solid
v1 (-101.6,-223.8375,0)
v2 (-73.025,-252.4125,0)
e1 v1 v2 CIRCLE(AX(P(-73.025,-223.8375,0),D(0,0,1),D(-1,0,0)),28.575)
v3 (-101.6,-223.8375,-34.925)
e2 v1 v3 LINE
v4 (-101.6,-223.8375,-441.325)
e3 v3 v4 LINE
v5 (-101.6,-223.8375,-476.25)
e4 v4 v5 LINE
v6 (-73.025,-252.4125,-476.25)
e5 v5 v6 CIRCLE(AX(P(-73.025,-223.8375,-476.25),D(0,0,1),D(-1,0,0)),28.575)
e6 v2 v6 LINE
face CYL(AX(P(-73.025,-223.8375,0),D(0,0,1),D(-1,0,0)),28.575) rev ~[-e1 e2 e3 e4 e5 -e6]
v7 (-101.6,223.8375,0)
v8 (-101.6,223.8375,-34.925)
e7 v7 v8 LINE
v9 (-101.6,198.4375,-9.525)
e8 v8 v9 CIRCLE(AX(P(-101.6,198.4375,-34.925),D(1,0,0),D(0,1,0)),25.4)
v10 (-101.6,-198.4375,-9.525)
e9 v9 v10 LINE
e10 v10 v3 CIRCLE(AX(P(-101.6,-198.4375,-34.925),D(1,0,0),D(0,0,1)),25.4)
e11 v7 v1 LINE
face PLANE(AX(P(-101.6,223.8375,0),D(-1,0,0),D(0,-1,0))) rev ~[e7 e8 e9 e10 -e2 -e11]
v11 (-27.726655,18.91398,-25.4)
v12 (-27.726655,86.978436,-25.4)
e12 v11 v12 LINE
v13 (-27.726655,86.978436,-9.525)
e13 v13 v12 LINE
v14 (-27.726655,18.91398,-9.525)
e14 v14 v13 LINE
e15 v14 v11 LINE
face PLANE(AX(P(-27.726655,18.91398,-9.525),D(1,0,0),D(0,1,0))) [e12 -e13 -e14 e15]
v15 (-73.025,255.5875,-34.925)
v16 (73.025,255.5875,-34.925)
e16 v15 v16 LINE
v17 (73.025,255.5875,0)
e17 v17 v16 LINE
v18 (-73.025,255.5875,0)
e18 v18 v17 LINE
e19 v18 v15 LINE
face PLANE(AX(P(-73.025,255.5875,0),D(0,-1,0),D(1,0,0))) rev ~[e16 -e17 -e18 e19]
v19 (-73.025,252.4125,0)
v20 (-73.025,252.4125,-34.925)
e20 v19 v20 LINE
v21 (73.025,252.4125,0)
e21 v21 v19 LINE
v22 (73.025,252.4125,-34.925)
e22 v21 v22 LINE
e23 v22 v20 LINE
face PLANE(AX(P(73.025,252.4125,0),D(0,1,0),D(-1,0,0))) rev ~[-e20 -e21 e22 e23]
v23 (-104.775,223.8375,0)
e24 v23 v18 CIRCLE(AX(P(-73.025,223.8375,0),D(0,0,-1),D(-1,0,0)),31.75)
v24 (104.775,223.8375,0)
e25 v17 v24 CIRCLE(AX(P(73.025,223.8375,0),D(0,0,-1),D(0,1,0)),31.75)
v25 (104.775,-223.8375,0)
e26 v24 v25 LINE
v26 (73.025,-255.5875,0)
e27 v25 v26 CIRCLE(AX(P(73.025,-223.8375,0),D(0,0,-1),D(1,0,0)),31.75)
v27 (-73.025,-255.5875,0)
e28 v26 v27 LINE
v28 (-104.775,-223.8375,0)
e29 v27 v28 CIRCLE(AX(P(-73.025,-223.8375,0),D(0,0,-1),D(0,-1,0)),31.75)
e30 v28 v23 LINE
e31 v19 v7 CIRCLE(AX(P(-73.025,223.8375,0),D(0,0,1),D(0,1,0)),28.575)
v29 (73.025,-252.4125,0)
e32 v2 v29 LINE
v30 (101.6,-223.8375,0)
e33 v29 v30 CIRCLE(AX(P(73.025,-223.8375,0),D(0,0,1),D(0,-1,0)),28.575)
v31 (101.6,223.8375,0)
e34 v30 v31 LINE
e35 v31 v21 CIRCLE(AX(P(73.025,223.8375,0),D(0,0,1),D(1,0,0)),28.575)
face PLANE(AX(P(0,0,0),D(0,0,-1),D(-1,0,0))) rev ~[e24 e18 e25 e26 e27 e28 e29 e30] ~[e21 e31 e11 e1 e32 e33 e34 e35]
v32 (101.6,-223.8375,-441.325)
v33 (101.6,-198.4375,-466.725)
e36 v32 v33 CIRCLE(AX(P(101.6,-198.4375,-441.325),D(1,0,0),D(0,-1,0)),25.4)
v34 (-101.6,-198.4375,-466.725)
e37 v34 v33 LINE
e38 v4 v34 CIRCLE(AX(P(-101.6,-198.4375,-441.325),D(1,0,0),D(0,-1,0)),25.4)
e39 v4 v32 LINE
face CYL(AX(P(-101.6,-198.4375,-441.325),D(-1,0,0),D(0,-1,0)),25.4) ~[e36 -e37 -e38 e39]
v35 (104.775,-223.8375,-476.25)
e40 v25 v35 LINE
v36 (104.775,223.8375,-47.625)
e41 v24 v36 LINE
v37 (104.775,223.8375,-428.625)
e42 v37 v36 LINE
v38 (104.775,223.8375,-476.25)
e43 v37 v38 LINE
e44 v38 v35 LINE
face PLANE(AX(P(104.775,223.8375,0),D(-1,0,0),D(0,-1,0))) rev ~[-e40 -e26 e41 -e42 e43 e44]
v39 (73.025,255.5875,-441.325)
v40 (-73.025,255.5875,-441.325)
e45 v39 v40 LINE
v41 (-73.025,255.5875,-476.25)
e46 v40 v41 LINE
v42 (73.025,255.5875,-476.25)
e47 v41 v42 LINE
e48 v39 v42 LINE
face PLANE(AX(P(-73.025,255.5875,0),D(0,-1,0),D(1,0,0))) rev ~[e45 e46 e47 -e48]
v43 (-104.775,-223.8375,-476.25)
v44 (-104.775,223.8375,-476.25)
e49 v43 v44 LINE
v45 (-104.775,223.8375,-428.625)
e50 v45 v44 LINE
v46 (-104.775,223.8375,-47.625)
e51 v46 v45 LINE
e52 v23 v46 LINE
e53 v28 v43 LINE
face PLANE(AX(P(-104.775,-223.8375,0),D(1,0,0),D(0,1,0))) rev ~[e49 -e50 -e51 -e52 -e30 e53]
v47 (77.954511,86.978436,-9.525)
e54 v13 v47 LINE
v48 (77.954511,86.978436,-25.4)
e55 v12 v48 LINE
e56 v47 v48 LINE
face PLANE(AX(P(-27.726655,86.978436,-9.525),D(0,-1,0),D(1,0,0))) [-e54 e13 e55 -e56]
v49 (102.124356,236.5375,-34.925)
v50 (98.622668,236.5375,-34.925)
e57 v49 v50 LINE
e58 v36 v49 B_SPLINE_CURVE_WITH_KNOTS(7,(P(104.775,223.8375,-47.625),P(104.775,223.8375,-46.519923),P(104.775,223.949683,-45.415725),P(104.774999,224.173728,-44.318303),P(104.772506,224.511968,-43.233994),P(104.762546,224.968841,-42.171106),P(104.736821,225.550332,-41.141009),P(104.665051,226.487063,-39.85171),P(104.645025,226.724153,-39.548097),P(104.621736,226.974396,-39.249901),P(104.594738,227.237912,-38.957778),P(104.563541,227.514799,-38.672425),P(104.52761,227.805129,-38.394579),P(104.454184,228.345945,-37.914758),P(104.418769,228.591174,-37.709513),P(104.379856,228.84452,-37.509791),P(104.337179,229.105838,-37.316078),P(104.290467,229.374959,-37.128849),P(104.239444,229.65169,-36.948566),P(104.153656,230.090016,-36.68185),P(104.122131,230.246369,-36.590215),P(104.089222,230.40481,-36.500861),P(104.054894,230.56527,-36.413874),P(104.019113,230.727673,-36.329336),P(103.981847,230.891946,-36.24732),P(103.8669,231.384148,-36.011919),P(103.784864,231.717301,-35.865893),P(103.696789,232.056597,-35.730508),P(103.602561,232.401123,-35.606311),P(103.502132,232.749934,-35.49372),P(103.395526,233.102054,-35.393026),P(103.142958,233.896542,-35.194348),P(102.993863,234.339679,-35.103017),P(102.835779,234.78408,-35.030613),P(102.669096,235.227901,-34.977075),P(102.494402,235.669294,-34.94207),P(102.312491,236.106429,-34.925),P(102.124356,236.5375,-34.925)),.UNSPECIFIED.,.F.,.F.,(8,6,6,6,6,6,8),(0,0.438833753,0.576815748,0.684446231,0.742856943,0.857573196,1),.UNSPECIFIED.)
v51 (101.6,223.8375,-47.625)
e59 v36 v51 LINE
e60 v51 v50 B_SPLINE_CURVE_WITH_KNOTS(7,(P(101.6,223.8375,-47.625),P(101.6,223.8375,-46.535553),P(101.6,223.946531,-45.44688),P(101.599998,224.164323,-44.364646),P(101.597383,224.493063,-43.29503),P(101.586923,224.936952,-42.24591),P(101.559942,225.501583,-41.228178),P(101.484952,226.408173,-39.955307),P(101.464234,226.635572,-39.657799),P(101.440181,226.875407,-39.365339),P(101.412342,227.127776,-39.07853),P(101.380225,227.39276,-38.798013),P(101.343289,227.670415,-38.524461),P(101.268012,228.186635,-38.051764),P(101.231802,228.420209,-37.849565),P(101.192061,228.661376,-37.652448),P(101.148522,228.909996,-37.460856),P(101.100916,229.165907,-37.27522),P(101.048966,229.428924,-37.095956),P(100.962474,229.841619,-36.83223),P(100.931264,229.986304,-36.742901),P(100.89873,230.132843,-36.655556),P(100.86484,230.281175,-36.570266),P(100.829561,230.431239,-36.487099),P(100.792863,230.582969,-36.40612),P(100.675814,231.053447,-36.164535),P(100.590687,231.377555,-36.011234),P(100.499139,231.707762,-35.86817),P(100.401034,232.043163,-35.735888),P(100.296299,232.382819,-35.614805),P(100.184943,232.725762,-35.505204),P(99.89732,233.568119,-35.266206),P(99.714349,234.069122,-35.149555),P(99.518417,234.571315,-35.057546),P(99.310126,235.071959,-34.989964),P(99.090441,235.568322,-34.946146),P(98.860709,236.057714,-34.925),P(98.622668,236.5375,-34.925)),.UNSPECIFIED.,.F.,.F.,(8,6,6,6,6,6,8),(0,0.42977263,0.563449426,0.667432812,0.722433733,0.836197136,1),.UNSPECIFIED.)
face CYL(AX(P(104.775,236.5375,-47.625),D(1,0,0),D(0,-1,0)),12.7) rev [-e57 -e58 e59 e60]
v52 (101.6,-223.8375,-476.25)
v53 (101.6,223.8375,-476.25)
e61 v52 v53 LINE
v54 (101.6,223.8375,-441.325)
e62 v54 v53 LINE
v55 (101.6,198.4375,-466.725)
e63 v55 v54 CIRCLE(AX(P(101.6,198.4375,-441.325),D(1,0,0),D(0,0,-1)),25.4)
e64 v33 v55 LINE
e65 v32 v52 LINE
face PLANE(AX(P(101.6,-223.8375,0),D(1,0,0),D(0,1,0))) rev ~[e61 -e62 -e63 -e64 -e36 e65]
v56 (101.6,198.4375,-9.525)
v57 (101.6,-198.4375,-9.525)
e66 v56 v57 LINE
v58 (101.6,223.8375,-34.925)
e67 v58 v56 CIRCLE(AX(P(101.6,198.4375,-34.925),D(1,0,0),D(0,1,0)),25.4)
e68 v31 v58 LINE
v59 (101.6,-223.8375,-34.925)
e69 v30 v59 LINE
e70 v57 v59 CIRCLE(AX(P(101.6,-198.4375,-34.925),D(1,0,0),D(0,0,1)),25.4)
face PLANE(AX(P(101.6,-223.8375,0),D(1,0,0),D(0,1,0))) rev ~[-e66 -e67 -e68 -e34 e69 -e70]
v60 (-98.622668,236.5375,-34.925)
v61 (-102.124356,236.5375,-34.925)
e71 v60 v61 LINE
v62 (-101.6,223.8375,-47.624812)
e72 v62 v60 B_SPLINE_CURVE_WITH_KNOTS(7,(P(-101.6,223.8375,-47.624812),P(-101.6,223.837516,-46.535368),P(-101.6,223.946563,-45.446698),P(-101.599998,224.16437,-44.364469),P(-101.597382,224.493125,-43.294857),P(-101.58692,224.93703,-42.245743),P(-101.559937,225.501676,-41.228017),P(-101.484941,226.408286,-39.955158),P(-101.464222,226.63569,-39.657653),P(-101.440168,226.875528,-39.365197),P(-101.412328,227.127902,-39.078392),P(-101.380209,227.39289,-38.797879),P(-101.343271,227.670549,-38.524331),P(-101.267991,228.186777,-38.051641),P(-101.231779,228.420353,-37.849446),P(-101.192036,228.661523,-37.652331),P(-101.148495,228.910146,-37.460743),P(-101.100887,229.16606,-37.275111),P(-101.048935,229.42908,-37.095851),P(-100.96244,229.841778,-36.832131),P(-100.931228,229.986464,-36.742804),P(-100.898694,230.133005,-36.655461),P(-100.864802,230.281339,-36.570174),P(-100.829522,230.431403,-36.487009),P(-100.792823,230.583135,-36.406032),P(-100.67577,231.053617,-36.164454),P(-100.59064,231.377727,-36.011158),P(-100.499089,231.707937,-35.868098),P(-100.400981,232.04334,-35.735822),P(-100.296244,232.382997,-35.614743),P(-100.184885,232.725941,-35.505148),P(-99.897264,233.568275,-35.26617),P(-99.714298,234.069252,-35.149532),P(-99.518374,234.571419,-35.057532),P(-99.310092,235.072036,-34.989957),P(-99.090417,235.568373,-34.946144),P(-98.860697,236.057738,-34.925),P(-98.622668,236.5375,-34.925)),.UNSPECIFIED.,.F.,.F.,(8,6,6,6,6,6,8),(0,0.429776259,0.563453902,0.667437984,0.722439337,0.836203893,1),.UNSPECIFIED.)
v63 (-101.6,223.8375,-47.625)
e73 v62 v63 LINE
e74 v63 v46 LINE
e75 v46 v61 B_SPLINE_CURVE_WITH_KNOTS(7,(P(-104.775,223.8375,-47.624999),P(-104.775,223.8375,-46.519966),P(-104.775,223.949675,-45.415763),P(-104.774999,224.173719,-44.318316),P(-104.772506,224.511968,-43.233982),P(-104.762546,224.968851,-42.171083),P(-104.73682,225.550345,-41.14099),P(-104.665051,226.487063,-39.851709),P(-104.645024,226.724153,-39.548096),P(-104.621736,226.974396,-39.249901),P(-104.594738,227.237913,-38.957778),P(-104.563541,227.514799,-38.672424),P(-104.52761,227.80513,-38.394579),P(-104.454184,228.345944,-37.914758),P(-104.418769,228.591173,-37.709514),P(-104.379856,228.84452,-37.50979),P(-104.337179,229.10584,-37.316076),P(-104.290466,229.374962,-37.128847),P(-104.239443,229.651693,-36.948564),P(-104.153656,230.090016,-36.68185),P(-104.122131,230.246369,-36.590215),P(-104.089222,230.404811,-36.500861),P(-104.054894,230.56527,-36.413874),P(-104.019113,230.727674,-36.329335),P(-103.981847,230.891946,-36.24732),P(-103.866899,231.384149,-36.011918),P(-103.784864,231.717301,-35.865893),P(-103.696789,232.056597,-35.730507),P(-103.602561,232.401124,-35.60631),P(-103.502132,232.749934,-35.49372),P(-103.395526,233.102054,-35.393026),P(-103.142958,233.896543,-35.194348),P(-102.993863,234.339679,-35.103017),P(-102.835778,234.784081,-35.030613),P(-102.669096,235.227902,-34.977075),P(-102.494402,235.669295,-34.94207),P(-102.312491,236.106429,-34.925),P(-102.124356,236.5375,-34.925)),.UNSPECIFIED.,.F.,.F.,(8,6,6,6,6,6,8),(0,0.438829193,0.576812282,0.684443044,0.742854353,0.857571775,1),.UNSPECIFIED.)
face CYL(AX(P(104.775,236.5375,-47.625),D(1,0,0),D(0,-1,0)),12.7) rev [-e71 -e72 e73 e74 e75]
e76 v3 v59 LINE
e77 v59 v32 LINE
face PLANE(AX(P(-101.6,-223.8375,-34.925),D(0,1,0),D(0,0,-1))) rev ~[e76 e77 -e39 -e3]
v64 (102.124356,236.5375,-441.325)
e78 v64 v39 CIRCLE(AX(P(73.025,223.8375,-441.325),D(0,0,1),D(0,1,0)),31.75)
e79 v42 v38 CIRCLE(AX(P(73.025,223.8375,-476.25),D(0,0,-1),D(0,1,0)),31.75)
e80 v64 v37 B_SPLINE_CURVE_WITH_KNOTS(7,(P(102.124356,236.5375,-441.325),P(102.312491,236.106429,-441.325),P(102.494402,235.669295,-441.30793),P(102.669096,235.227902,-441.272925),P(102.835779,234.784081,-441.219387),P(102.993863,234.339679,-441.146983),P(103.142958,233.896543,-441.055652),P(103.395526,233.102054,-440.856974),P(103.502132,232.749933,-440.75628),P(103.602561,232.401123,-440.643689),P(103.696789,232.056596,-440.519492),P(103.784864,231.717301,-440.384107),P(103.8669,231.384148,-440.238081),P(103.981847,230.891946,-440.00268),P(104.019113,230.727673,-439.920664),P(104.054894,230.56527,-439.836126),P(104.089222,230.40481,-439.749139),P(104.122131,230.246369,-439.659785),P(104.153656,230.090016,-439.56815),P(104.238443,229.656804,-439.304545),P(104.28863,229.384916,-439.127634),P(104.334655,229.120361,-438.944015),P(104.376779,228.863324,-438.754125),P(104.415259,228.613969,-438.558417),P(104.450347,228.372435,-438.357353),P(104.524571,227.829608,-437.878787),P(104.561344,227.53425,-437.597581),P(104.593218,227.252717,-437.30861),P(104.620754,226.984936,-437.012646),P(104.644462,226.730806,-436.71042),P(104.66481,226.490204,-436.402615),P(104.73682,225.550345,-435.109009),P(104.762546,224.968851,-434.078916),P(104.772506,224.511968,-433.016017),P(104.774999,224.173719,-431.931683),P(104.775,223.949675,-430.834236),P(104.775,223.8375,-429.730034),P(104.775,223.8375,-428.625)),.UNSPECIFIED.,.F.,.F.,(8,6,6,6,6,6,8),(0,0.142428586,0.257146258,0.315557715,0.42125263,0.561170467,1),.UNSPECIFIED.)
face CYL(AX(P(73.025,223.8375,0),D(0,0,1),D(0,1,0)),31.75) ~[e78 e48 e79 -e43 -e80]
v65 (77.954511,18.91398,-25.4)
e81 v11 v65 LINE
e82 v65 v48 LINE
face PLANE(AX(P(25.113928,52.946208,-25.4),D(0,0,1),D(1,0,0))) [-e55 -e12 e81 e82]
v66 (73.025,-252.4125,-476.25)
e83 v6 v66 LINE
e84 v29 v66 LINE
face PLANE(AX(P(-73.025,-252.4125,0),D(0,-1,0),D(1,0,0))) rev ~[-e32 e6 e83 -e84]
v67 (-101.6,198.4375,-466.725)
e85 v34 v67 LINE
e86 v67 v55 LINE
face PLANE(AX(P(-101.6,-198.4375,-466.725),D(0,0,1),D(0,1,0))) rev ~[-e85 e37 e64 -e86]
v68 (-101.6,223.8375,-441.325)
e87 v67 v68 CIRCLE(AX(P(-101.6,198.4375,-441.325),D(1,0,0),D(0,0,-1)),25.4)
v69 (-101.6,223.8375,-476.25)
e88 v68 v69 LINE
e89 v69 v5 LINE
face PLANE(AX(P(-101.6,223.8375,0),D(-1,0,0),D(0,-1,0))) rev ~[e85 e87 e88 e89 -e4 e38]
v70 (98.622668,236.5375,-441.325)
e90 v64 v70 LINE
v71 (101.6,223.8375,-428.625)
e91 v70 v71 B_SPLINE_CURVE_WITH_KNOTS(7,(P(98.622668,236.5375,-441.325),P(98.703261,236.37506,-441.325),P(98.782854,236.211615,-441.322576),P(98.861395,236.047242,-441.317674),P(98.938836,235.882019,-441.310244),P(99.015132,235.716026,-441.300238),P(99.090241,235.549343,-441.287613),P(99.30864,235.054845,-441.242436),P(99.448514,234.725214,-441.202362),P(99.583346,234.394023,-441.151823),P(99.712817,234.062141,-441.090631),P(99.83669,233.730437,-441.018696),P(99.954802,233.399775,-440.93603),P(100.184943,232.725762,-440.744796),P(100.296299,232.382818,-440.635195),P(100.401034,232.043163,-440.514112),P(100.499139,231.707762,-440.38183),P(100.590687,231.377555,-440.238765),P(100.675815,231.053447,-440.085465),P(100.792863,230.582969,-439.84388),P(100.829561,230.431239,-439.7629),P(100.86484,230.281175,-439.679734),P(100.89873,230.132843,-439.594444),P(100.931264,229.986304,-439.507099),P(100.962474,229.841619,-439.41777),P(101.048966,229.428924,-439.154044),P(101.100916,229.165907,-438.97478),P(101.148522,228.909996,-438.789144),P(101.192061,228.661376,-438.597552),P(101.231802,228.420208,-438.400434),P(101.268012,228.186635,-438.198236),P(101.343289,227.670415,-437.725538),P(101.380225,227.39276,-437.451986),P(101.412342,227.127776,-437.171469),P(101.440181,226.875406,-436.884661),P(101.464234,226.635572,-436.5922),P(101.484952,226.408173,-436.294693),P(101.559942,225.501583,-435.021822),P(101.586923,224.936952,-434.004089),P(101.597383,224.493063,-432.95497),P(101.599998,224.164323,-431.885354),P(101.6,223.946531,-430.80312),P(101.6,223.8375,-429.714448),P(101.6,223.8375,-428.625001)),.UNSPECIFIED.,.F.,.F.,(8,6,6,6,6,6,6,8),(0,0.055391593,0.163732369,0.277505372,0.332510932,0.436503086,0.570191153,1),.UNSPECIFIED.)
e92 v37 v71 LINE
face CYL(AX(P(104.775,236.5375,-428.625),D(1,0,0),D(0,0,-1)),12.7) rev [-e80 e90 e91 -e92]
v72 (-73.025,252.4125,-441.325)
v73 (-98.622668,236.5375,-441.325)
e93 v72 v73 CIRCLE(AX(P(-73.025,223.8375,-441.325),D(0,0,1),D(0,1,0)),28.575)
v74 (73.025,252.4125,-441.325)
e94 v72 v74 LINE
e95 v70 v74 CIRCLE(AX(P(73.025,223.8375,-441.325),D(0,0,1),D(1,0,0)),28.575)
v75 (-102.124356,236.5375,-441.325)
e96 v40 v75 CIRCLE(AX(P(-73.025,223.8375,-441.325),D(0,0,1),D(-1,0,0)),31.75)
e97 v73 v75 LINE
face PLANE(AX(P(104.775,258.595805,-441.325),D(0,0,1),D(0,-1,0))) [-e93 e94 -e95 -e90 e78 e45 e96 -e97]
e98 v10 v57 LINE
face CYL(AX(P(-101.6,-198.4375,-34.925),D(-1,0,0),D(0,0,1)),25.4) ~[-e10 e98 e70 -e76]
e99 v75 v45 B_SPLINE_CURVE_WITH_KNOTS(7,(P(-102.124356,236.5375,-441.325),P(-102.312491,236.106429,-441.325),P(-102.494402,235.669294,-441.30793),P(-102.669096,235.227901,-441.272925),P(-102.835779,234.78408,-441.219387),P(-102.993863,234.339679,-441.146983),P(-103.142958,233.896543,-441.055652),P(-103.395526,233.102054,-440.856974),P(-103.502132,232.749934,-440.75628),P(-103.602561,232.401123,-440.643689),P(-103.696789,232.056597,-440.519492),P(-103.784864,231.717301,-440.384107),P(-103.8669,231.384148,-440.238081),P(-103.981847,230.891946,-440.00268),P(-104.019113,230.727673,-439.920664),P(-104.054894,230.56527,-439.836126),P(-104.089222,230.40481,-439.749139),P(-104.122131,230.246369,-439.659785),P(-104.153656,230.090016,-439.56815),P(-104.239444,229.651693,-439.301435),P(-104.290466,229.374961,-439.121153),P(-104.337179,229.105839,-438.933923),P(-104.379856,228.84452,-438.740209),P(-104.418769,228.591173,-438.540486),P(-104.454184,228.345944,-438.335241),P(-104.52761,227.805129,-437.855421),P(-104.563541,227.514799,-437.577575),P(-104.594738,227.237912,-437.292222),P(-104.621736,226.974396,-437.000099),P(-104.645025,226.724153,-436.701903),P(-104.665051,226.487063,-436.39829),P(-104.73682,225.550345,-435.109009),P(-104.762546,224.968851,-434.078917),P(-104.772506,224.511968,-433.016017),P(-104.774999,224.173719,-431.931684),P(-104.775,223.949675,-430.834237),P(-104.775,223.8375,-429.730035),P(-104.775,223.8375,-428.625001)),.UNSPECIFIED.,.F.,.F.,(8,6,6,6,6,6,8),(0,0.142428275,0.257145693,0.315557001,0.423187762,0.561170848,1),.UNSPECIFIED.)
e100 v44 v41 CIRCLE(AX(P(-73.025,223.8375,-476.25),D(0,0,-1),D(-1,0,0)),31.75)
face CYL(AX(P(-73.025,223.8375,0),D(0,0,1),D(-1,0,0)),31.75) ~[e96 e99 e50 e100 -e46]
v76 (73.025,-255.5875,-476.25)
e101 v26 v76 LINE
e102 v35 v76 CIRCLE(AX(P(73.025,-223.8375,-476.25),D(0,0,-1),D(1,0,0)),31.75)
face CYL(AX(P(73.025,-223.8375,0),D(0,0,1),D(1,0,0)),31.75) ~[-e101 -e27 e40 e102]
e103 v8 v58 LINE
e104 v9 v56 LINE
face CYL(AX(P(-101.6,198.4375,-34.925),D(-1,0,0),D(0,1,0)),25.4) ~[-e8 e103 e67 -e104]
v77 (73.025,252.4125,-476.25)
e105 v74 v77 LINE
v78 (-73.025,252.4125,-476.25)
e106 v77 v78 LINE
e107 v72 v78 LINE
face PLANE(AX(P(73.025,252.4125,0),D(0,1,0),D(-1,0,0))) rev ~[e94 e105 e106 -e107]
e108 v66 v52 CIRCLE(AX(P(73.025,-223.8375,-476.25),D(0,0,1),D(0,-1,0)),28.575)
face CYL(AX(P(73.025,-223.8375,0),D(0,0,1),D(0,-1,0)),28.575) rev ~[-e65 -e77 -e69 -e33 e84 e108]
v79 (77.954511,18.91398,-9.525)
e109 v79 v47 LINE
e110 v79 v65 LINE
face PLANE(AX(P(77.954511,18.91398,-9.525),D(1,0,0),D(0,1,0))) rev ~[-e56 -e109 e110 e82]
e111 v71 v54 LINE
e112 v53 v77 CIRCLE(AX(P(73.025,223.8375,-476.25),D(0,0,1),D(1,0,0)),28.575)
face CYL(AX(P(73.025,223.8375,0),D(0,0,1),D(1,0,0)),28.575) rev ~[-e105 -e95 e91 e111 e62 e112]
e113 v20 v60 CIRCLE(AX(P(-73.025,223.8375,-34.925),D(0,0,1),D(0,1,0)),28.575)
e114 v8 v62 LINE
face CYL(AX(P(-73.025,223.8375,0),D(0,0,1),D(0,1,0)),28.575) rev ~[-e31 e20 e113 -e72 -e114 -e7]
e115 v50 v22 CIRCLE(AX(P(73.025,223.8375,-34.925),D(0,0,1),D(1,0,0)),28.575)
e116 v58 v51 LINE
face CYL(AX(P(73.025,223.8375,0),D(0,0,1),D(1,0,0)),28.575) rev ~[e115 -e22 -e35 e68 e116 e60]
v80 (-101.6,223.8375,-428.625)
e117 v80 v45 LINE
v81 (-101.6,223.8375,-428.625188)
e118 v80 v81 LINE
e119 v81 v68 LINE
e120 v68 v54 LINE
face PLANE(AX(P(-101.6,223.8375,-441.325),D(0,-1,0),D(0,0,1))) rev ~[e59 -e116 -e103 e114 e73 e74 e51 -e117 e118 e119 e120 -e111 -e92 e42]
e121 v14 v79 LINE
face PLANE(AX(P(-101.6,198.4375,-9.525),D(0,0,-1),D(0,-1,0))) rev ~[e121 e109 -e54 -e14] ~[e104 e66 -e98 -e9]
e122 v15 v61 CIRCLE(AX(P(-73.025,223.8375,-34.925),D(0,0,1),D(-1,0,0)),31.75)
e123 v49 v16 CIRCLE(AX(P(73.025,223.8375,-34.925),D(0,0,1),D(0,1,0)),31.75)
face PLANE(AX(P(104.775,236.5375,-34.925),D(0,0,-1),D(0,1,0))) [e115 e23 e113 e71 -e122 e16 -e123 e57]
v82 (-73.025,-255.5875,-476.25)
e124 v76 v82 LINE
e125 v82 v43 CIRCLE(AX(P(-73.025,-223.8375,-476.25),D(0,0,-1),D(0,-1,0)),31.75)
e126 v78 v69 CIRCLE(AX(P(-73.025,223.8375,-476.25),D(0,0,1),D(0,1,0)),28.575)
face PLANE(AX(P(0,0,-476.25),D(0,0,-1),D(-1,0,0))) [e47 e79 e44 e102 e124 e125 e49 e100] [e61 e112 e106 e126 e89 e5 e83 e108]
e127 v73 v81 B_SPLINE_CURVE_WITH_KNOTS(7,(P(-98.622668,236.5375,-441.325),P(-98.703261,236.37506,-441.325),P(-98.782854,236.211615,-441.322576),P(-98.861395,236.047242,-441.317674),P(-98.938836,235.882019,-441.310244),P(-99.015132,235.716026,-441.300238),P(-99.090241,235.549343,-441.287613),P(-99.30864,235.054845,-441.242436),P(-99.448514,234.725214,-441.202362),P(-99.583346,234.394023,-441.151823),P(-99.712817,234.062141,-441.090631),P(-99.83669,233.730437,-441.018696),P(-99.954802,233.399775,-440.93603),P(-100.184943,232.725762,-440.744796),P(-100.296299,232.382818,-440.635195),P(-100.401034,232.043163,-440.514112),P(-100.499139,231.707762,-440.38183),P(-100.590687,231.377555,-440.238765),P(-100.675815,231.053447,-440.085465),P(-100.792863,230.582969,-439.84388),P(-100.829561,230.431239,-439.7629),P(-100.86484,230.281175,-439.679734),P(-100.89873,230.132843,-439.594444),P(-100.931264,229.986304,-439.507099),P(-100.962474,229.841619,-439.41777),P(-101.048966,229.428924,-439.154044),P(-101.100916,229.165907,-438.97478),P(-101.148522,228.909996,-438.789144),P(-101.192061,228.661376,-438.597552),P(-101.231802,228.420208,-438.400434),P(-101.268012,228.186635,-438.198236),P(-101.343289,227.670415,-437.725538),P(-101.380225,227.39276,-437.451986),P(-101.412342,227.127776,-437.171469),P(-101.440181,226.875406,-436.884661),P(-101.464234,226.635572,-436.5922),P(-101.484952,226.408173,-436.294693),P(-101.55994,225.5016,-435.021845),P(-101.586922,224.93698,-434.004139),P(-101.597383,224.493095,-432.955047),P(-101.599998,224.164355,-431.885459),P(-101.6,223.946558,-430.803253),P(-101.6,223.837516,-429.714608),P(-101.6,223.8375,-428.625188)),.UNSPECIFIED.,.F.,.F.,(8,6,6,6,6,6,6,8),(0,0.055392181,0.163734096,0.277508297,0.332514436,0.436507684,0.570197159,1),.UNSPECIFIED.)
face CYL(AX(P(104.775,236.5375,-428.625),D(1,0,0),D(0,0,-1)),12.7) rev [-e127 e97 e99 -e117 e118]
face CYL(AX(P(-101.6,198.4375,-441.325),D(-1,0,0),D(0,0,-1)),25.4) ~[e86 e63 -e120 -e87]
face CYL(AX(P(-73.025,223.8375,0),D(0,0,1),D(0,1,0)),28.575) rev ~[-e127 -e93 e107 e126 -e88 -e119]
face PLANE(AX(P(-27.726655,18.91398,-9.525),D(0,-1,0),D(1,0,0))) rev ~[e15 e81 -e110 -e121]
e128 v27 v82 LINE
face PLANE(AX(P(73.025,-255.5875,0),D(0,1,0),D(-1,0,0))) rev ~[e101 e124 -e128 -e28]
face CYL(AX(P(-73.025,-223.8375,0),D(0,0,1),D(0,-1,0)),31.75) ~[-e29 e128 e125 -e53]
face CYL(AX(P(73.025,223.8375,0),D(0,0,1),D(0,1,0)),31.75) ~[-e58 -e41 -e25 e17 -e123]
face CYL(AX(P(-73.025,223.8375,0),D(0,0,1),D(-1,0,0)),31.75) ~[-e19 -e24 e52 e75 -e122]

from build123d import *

# Parameters (mm, degrees)
EXTRUDE1_DEPTH     = 476.25
CUT_EXTRUDE1_DEPTH = 210.55
EXTRUDE2_DEPTH     = 203.2
SKETCH5_W          = 105.681165702
SKETCH5_H          = 68.064456382
CUT_EXTRUDE2_DEPTH = 15.875


with BuildPart() as part:
    # Sketch1 → Extrude1 (new body)
    with BuildSketch(Plane.XY):
        with BuildLine():
            Line((-73.025, 255.5875), (73.025, 255.5875))
            ThreePointArc((73.025, 255.5875), (95.475640303, 246.288140303), (104.775, 223.8375))
            Line((104.775, 223.8375), (104.775, -223.8375))
            ThreePointArc((104.775, -223.8375), (95.475640303, -246.288140303), (73.025, -255.5875))
            Line((73.025, -255.5875), (-73.025, -255.5875))
            ThreePointArc((-73.025, -255.5875), (-95.475640303, -246.288140303), (-104.775, -223.8375))
            Line((-104.775, -223.8375), (-104.775, 223.8375))
            ThreePointArc((-104.775, 223.8375), (-95.475640303, 246.288140303), (-73.025, 255.5875))
        make_face()
        with BuildLine():
            Line((-101.6, 223.8375), (-101.6, -223.8375))
            ThreePointArc((-101.6, -223.8375), (-93.230576272, -244.043076272), (-73.025, -252.4125))
            Line((-73.025, -252.4125), (73.025, -252.4125))
            ThreePointArc((73.025, -252.4125), (93.230576272, -244.043076272), (101.6, -223.8375))
            Line((101.6, -223.8375), (101.6, 223.8375))
            ThreePointArc((101.6, 223.8375), (93.230576272, 244.043076272), (73.025, 252.4125))
            Line((73.025, 252.4125), (-73.025, 252.4125))
            ThreePointArc((-73.025, 252.4125), (-93.230576272, 244.043076272), (-101.6, 223.8375))
        make_face(mode=Mode.SUBTRACT)
    extrude(amount=-EXTRUDE1_DEPTH)

    # Sketch2 → Cut-Extrude1 (cut, through all)
    with BuildSketch(Plane(origin=(104.775, 0, 0), x_dir=(0, 0, -1), z_dir=(1, 0, 0))):
        with BuildLine():
            Line((34.925, 236.5375), (34.925, 258.595805141))
            Line((34.925, 258.595805141), (441.325, 258.595805141))
            Line((441.325, 258.595805141), (441.325, 236.5375))
            ThreePointArc((441.325, 236.5375), (437.605256121, 227.557243879), (428.625, 223.8375))
            Line((428.625, 223.8375), (47.625, 223.8375))
            ThreePointArc((47.625, 223.8375), (38.644743879, 227.557243879), (34.925, 236.5375))
        make_face()
    extrude(amount=-CUT_EXTRUDE1_DEPTH, mode=Mode.SUBTRACT)

    # Sketch4 → Extrude2 (add)
    with BuildSketch(Plane(origin=(-101.6, 0, 0), x_dir=(0, 0, -1), z_dir=(1, 0, 0))):
        with BuildLine():
            Line((9.525, 198.4375), (9.525, -198.4375))
            ThreePointArc((9.525, -198.4375), (16.964487758, -216.398012242), (34.925, -223.8375))
            Line((34.925, -223.8375), (441.325, -223.8375))
            ThreePointArc((441.325, -223.8375), (459.285512242, -216.398012242), (466.725, -198.4375))
            Line((466.725, -198.4375), (466.725, 198.4375))
            ThreePointArc((466.725, 198.4375), (459.285512242, 216.398012242), (441.325, 223.8375))
            Line((441.325, 223.8375), (34.925, 223.8375))
            ThreePointArc((34.925, 223.8375), (16.964487758, 216.398012242), (9.525, 198.4375))
        make_face()
    extrude(amount=EXTRUDE2_DEPTH)

    # Sketch5 → Cut-Extrude2 (cut)
    with BuildSketch(Plane.XY.offset(-9.525)):
        with Locations((25.113927792, 52.946208207)):
            Rectangle(SKETCH5_W, SKETCH5_H)
    extrude(amount=-CUT_EXTRUDE2_DEPTH, mode=Mode.SUBTRACT)


solid = part.part
